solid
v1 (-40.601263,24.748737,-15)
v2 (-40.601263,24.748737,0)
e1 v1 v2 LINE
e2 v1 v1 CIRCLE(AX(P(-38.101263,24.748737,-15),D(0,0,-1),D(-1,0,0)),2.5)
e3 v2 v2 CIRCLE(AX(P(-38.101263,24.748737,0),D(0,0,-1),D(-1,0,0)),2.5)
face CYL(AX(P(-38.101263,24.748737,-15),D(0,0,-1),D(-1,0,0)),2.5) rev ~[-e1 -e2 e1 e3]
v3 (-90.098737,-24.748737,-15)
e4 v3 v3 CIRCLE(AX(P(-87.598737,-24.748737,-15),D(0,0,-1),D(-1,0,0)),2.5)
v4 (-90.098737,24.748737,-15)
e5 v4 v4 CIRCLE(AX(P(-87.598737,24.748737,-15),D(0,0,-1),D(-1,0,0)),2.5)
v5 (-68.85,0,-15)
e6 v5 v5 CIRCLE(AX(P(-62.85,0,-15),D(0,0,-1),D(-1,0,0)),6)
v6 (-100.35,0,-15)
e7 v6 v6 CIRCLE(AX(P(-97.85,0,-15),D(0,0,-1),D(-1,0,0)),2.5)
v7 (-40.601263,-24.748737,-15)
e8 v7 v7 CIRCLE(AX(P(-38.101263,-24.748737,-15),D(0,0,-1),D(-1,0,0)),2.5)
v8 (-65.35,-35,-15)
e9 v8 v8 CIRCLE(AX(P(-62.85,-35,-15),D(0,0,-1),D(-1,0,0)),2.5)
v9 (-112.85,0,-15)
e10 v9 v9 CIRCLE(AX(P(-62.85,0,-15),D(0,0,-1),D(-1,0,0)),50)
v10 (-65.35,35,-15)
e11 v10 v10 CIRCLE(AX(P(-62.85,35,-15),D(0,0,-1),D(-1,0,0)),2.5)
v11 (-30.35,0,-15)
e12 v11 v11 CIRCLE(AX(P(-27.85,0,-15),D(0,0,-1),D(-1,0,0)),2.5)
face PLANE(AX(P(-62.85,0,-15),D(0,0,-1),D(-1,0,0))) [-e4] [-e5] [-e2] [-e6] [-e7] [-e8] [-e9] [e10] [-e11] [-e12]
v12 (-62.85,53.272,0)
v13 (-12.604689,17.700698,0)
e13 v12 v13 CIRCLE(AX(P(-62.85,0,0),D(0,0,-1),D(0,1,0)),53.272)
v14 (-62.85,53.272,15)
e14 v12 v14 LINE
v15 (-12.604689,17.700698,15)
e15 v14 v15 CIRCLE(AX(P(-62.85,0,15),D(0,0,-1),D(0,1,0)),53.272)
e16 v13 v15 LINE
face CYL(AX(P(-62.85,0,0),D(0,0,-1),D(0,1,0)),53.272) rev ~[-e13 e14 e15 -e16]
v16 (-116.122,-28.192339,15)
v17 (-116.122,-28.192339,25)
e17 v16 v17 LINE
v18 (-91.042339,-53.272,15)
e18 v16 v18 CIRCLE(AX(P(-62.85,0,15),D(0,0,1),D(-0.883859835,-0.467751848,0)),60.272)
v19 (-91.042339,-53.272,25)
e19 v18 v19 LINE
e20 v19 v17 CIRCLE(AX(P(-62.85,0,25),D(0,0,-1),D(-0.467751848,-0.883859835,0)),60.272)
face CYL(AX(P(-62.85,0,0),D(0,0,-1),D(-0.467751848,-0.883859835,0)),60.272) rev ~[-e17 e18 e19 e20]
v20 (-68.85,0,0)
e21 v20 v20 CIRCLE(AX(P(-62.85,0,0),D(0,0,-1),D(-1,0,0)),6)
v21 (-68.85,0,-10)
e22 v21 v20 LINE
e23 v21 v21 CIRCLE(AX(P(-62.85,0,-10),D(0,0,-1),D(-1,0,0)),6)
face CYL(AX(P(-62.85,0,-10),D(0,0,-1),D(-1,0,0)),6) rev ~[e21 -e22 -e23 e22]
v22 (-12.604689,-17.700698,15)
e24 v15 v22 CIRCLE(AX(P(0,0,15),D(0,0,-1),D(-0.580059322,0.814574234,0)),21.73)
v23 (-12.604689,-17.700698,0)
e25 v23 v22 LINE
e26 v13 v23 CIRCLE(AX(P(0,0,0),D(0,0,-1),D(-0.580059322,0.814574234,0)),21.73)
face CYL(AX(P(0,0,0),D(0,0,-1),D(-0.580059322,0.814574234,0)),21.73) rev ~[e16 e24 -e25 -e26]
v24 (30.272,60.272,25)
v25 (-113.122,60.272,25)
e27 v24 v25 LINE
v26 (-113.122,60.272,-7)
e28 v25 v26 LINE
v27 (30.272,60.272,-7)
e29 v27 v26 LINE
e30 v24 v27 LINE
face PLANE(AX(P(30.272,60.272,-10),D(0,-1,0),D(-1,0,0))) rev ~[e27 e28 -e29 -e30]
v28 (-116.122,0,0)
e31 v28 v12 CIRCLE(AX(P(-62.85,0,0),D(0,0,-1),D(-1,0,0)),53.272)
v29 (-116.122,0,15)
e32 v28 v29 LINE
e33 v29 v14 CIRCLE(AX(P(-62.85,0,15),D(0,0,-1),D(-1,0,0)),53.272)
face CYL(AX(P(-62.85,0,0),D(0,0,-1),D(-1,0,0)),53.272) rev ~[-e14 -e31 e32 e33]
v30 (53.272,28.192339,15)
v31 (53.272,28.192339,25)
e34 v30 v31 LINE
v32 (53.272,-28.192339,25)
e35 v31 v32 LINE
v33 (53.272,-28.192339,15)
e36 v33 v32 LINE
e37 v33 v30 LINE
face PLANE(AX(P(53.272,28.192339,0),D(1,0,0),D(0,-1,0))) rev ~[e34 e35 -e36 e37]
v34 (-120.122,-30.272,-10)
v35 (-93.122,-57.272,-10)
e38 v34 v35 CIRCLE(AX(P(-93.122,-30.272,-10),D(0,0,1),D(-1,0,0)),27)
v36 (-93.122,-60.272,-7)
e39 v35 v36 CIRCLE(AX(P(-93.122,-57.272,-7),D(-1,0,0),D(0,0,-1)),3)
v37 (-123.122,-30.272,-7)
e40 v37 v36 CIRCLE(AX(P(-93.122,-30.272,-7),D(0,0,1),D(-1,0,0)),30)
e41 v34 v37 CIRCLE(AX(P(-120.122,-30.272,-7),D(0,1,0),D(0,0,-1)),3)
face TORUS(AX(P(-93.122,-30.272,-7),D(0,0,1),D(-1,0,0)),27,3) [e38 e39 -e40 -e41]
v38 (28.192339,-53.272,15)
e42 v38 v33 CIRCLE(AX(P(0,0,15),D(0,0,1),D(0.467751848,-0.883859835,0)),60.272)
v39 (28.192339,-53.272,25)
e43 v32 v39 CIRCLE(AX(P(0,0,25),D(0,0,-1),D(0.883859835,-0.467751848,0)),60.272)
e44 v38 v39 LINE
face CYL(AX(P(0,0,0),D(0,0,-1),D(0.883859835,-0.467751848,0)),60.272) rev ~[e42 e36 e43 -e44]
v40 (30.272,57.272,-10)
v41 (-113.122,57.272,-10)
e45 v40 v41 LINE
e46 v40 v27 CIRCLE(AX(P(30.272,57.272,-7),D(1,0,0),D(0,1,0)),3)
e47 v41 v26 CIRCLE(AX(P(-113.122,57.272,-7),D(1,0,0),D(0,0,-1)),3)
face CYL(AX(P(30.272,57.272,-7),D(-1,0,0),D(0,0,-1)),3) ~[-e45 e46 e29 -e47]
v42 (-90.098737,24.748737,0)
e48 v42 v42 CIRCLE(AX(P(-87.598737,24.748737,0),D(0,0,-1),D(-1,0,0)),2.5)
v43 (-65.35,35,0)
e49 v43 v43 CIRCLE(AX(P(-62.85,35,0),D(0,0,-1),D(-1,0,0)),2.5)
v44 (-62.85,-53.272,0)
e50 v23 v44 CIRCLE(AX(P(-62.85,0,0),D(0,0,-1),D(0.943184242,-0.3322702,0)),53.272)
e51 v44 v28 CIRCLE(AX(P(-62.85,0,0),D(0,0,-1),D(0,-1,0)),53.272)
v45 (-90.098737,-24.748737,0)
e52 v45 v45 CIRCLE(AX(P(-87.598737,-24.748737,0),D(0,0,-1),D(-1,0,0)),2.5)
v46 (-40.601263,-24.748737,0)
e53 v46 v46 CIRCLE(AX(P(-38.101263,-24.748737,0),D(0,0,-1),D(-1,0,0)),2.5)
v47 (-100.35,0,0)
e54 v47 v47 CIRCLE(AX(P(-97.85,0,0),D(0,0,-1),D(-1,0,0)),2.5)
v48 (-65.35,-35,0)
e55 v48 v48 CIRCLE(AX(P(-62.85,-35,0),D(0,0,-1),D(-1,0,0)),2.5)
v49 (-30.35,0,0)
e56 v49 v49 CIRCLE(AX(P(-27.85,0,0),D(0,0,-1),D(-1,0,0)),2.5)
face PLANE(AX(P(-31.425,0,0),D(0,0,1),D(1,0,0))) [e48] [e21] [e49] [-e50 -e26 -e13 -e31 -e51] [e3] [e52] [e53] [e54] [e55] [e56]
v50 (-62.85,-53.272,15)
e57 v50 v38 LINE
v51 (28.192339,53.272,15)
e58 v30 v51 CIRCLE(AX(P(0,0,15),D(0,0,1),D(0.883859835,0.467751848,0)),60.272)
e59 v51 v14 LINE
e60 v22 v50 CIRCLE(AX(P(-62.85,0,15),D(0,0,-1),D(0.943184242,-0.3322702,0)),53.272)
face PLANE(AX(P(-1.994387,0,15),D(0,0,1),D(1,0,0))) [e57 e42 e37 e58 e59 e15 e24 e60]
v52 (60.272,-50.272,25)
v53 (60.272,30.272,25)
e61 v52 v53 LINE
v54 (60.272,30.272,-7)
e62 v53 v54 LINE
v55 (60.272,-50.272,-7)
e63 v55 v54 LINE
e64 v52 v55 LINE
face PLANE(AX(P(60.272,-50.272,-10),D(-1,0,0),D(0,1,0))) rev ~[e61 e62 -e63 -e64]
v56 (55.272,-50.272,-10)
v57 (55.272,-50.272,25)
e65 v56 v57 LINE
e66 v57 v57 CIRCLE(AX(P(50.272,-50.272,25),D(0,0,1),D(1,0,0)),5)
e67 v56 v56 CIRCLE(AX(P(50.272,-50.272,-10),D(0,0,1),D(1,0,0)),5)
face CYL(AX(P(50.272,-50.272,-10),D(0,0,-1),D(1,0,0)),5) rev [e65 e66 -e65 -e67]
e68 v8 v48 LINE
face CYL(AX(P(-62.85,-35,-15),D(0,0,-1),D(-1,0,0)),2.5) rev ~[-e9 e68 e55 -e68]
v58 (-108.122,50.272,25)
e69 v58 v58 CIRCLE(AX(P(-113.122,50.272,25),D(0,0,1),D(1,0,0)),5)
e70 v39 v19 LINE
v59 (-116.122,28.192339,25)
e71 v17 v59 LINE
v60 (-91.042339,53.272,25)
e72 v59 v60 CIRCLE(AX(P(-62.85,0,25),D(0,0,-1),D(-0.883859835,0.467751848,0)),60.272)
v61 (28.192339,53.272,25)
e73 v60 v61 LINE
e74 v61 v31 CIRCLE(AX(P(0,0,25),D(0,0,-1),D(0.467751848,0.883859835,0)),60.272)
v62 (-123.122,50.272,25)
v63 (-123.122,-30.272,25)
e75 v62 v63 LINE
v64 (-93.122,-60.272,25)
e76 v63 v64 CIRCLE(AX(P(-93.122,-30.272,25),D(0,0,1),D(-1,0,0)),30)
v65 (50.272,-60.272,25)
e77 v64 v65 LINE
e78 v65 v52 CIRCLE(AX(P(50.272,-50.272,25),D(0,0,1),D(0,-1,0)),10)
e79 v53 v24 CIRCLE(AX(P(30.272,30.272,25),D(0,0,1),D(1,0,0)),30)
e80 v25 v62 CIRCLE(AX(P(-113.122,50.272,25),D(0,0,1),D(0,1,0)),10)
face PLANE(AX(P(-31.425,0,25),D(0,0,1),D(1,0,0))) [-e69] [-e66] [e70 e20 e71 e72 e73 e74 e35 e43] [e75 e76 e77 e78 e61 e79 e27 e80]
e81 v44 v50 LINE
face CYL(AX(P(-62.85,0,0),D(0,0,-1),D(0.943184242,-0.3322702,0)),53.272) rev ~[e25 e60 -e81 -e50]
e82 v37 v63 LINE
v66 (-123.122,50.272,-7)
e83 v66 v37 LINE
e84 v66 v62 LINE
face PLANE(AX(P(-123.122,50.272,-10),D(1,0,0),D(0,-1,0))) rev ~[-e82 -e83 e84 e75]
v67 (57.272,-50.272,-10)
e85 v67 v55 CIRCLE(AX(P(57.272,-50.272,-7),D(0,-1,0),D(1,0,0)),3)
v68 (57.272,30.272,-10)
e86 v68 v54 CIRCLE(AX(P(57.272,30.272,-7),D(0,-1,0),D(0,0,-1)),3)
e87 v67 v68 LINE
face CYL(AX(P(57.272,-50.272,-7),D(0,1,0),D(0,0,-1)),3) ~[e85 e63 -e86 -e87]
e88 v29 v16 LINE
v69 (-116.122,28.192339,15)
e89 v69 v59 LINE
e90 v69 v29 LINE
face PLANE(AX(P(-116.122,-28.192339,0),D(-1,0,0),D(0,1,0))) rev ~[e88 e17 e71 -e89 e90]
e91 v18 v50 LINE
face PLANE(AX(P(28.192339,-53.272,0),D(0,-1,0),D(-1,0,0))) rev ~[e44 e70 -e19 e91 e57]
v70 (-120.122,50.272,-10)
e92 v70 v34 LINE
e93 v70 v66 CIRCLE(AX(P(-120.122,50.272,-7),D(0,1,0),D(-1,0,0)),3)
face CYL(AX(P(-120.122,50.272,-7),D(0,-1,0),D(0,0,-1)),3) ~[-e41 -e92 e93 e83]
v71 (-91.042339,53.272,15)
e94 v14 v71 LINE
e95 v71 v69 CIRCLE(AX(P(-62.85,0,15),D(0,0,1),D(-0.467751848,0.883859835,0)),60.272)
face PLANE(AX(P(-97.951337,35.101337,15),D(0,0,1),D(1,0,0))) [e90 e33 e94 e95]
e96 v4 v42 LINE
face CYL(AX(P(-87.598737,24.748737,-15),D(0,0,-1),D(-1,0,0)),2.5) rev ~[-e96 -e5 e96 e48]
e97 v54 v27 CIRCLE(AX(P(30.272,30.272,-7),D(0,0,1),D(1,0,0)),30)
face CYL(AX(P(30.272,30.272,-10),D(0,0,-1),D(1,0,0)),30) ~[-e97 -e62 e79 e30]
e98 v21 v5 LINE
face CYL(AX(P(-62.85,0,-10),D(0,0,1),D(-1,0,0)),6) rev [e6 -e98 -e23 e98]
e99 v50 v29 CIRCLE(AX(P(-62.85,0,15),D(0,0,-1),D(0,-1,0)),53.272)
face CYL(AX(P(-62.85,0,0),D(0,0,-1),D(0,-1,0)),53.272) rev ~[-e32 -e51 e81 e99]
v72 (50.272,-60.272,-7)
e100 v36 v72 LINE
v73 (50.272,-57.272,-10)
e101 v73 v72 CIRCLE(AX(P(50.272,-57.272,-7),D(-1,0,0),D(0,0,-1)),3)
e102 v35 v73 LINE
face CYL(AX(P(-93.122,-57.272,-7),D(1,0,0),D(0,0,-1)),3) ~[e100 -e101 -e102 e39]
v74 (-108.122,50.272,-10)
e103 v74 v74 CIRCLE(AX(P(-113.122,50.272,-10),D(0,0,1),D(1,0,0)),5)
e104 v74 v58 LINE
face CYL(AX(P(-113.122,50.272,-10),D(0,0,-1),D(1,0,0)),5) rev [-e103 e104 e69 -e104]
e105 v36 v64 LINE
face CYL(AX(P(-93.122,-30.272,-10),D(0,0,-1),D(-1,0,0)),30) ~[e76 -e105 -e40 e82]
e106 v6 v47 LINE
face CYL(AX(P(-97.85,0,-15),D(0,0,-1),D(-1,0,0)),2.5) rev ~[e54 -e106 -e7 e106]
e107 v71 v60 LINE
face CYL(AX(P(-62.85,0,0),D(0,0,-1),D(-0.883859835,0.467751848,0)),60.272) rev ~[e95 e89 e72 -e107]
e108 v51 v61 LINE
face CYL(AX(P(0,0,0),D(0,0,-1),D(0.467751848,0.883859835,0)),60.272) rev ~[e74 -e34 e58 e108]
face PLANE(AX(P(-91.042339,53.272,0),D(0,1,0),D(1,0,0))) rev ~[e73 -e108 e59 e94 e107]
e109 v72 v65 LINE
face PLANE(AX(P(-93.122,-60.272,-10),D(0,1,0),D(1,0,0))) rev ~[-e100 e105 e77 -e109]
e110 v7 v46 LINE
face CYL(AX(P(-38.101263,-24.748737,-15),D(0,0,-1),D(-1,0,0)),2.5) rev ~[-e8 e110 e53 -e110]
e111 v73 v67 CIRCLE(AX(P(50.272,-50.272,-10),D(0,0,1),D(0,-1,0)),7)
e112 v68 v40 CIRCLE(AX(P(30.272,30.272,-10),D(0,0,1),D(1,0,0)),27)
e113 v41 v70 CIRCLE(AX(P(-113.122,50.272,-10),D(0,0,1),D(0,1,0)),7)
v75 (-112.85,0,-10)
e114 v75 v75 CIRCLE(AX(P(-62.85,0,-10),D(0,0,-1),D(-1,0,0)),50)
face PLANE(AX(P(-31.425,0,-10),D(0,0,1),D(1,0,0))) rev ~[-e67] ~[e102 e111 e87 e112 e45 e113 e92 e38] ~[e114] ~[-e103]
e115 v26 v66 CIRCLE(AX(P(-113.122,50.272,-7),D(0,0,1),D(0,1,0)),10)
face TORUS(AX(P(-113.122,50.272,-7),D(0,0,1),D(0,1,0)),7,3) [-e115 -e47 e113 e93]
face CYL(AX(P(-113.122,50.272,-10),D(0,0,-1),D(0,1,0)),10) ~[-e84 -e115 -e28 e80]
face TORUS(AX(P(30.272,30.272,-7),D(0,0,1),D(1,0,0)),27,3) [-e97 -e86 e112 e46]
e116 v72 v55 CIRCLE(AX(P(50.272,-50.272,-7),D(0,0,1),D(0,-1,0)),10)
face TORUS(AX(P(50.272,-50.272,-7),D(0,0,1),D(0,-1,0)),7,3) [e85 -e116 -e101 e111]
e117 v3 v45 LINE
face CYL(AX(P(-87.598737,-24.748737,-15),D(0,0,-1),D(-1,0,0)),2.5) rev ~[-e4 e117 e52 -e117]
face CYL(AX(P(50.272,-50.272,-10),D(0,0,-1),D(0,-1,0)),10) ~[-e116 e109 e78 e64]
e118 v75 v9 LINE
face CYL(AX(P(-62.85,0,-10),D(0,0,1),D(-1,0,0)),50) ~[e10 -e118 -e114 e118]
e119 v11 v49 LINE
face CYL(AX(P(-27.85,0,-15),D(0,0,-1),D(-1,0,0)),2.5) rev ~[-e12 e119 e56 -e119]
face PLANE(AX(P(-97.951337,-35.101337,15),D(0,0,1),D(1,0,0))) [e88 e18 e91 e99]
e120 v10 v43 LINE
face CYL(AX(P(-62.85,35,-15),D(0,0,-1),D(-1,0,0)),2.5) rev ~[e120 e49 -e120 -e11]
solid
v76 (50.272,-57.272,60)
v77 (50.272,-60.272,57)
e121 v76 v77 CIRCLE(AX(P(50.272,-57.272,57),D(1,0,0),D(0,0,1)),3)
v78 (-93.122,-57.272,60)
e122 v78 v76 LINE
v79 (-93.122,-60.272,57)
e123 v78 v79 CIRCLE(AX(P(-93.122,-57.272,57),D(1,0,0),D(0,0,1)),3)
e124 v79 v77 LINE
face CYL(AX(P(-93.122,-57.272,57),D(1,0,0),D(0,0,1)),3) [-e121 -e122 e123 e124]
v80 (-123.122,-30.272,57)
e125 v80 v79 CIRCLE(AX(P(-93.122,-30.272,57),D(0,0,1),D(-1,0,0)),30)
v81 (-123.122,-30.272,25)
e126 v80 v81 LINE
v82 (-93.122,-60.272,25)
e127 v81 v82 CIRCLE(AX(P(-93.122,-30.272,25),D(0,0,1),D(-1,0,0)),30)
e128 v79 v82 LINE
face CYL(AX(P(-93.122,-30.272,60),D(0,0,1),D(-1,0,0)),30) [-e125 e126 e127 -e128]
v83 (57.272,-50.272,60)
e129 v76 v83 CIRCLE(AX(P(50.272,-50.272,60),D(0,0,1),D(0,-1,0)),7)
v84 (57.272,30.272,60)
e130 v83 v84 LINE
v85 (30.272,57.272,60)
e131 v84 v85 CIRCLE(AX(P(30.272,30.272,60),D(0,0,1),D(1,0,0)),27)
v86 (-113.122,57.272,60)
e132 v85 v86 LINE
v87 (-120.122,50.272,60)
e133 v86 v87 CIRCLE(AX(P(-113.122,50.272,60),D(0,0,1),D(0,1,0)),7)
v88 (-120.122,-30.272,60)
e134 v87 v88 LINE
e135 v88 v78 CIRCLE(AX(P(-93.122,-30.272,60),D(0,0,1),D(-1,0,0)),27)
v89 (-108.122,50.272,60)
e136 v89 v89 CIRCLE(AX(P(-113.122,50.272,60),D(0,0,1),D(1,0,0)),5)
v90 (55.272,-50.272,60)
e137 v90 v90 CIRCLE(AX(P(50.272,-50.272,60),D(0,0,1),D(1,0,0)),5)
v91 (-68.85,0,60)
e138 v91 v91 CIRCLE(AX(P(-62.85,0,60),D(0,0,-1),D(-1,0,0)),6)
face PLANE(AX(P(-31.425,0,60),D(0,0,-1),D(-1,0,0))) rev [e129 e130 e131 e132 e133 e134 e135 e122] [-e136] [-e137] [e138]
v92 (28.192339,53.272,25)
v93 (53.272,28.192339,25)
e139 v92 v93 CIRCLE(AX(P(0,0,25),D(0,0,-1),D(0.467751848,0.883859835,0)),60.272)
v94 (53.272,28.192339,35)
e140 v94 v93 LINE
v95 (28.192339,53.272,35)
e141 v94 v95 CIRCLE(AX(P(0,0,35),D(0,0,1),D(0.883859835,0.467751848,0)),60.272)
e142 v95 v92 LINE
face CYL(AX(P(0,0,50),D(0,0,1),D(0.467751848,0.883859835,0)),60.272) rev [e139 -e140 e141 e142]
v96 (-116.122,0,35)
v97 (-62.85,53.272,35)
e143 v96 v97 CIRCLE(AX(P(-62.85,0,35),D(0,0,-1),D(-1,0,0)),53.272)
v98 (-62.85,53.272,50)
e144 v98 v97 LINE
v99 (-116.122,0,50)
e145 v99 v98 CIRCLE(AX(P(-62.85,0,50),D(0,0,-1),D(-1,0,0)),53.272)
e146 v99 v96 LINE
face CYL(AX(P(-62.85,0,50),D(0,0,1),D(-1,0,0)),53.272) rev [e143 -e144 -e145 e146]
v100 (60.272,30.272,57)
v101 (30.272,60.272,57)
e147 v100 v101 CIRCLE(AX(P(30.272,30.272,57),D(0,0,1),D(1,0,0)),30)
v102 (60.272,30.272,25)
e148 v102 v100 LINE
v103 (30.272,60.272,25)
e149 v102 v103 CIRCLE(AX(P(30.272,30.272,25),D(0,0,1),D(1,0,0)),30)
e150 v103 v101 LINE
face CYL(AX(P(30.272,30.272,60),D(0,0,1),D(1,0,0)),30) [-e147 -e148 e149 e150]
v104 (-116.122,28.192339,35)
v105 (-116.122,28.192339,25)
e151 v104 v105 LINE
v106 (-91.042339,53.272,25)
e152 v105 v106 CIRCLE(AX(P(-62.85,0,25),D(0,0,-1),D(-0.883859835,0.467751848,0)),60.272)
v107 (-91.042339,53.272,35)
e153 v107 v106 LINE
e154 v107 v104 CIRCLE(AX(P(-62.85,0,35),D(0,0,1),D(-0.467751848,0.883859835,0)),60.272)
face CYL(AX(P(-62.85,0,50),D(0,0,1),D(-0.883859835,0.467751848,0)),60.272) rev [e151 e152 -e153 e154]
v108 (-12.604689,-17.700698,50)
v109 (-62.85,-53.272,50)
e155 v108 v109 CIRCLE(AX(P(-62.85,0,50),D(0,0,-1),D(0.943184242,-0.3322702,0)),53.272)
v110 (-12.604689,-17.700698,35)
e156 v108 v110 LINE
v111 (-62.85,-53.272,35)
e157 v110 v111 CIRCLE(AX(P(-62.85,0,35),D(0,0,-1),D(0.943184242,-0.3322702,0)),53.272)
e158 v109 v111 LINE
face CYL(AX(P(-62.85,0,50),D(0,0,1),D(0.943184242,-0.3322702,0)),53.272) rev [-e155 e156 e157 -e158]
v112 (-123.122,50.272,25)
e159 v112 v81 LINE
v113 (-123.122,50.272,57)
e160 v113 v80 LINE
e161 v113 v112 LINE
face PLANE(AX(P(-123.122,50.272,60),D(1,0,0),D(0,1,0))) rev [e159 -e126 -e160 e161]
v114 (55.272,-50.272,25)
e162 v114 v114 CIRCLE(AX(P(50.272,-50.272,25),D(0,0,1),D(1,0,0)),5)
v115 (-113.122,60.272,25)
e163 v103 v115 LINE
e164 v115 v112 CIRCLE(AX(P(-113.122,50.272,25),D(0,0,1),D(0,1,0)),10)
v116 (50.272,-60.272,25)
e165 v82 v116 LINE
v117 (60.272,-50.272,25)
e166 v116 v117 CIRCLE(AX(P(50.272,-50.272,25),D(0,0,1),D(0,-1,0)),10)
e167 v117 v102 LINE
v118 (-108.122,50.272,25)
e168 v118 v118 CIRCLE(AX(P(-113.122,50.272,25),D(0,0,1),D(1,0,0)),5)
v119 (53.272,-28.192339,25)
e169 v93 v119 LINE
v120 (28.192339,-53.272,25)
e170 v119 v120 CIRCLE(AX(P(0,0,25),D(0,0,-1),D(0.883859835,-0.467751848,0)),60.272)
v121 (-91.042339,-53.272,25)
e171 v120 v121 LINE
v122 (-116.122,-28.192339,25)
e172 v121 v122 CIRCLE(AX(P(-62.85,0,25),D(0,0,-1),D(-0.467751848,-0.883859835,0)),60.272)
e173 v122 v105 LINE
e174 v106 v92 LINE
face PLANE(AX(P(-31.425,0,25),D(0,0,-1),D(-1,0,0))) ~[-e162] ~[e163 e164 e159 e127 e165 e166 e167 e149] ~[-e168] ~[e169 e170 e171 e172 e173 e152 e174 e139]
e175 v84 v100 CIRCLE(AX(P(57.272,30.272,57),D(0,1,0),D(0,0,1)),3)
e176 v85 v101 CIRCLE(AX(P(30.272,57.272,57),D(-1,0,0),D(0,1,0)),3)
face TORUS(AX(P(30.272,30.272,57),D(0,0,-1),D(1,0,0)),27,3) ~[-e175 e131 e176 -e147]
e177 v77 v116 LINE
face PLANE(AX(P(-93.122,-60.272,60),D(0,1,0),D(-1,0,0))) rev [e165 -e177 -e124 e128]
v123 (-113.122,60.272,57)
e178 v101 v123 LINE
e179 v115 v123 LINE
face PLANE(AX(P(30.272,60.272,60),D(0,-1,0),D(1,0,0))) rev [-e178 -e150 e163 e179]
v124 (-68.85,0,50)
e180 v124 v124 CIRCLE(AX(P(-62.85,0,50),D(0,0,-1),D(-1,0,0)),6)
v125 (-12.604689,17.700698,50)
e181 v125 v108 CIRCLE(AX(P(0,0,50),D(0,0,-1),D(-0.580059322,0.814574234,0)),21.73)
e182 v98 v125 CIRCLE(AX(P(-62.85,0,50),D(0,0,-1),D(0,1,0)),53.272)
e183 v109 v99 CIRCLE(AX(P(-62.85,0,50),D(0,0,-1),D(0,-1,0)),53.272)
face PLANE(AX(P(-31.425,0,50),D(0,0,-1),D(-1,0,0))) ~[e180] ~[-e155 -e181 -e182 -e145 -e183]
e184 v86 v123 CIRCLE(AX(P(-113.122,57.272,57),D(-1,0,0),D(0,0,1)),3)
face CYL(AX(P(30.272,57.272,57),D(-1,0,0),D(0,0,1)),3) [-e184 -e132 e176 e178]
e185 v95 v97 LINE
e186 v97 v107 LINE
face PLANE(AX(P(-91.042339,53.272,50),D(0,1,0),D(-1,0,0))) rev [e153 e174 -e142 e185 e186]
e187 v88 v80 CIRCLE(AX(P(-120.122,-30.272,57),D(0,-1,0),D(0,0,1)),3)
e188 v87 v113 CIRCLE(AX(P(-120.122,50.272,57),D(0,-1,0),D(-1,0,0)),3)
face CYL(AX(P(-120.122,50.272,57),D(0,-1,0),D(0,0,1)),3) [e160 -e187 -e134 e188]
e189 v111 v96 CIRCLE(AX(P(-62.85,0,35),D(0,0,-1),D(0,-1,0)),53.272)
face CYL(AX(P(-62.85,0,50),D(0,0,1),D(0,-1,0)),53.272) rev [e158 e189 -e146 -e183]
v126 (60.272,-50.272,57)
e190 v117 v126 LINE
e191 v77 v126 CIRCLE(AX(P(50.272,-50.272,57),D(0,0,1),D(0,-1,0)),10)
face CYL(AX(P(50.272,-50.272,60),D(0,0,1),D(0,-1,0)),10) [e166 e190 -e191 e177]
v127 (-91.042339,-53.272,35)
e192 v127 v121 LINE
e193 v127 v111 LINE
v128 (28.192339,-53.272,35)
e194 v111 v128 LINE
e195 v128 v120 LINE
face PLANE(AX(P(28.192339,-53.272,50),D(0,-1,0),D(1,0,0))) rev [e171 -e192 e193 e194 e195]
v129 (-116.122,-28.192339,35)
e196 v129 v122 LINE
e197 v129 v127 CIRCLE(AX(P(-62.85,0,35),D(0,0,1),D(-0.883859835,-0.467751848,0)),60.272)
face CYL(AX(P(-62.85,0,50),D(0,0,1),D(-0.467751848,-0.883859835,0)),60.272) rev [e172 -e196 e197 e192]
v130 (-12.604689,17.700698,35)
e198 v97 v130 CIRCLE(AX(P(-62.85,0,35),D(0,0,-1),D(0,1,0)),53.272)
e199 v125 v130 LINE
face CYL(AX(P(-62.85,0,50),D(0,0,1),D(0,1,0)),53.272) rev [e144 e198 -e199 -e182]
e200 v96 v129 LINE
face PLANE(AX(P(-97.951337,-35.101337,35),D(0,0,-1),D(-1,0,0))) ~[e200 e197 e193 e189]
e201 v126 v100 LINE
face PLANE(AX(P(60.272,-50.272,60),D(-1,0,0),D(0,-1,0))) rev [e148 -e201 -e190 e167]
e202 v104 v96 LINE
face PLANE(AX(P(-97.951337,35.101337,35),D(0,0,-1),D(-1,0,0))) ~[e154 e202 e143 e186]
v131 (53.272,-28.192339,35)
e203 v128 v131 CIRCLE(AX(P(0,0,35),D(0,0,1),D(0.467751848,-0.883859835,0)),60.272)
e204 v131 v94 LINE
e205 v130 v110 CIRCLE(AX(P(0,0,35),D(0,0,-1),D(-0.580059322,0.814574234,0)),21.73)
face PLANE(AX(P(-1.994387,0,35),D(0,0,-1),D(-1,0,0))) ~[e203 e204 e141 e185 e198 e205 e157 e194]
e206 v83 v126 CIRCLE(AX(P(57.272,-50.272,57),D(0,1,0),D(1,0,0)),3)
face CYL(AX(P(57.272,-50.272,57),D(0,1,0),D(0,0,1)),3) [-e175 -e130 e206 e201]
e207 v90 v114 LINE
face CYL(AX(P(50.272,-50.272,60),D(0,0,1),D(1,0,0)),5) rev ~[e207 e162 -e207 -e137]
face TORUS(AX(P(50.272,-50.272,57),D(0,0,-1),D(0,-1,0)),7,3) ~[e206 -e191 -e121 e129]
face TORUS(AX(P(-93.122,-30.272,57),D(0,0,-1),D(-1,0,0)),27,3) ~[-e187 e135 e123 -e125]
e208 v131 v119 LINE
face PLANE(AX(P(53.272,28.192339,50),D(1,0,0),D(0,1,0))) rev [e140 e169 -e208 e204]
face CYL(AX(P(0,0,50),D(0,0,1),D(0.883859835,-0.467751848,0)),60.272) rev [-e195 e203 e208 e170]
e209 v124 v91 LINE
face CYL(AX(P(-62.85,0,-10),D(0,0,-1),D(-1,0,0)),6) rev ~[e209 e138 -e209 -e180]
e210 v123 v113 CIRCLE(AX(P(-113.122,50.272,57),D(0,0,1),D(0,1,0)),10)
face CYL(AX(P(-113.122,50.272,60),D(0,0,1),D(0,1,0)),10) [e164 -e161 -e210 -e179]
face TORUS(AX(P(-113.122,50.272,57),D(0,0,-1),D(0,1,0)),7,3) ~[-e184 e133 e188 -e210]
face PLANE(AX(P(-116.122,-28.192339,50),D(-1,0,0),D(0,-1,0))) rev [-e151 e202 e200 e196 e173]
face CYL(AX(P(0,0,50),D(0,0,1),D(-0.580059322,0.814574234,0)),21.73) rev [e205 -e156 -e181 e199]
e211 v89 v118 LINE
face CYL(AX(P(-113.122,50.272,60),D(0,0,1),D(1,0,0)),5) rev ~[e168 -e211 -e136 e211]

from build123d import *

# Parameters (mm, degrees)
SKETCH1_R           = 5
BOSS_EXTRUDE1_DEPTH = 25
BOSS_EXTRUDE5_DEPTH = 15
BOSS_EXTRUDE2_START = -10
SKETCH1_3_R         = 5
BOSS_EXTRUDE2_DEPTH = 10
FILLET1_R           = 3
SKETCH2_R           = 50
SKETCH2_R_2         = 6
BOSS_EXTRUDE6_DEPTH = 5
SKETCH2_3_R         = 6
CUT_EXTRUDE1_DEPTH  = 154.921216551
SKETCH3_R           = 2.5
CUT_EXTRUDE2_DEPTH  = 20


with BuildPart() as part:
    # Sketch1 → Boss-Extrude1 (new body)
    with BuildSketch(Plane.XY):
        with BuildLine():
            ThreePointArc((-113.122, 60.272), (-120.193067812, 57.343067812), (-123.122, 50.272))
            Line((-123.122, 50.272), (-123.122, -30.272))
            ThreePointArc((-123.122, -30.272), (-114.335203436, -51.485203436), (-93.122, -60.272))
            Line((-93.122, -60.272), (50.272, -60.272))
            ThreePointArc((50.272, -60.272), (57.343067812, -57.343067812), (60.272, -50.272))
            Line((60.272, -50.272), (60.272, 30.272))
            ThreePointArc((60.272, 30.272), (51.485203436, 51.485203436), (30.272, 60.272))
            Line((30.272, 60.272), (-113.122, 60.272))
        make_face()
        with BuildLine():
            ThreePointArc((28.192339385, 53.272), (42.618739916, 42.618739916), (53.272, 28.192339385))
            Line((53.272, 28.192339385), (53.272, -28.192339385))
            ThreePointArc((53.272, -28.192339385), (42.618739916, -42.618739916), (28.192339385, -53.272))
            Line((28.192339385, -53.272), (-91.042339385, -53.272))
            ThreePointArc((-91.042339385, -53.272), (-105.468739916, -42.618739916), (-116.122, -28.192339385))
            Line((-116.122, -28.192339385), (-116.122, 28.192339385))
            ThreePointArc((-116.122, 28.192339385), (-105.468739916, 42.618739916), (-91.042339385, 53.272))
            Line((-91.042339385, 53.272), (28.192339385, 53.272))
        make_face(mode=Mode.SUBTRACT)
        with Locations((-113.122, 50.272)):
            Circle(SKETCH1_R, mode=Mode.SUBTRACT)
        with Locations((50.272, -50.272)):
            Circle(SKETCH1_R, mode=Mode.SUBTRACT)
    extrude(amount=BOSS_EXTRUDE1_DEPTH)

    # Sketch1<5> → Boss-Extrude5 (add)
    with BuildSketch(Plane.XY):
        with BuildLine():
            Line((-62.85, 53.272), (-91.042339385, 53.272))
            ThreePointArc((-91.042339385, 53.272), (-105.468739916, 42.618739916), (-116.122, 28.192339385))
            Line((-116.122, 28.192339385), (-116.122, 0))
            ThreePointArc((-116.122, 0), (-100.518992447, 37.668992447), (-62.85, 53.272))
        make_face()
        with BuildLine():
            ThreePointArc((-62.85, 53.272), (-32.068882456, 43.479061475), (-12.604689069, 17.700698107))
            ThreePointArc((-12.604689069, 17.700698107), (21.73, 0), (-12.604689069, -17.700698107))
            ThreePointArc((-12.604689069, -17.700698107), (-32.068882456, -43.479061475), (-62.85, -53.272))
            Line((-62.85, -53.272), (28.192339385, -53.272))
            ThreePointArc((28.192339385, -53.272), (42.618739916, -42.618739916), (53.272, -28.192339385))
            Line((53.272, -28.192339385), (53.272, 28.192339385))
            ThreePointArc((53.272, 28.192339385), (42.618739916, 42.618739916), (28.192339385, 53.272))
            Line((28.192339385, 53.272), (-62.85, 53.272))
        make_face()
        with BuildLine():
            ThreePointArc((-62.85, -53.272), (-100.518992447, -37.668992447), (-116.122, 0))
            Line((-116.122, 0), (-116.122, -28.192339385))
            ThreePointArc((-116.122, -28.192339385), (-105.468739916, -42.618739916), (-91.042339385, -53.272))
            Line((-91.042339385, -53.272), (-62.85, -53.272))
        make_face()
    extrude(amount=BOSS_EXTRUDE5_DEPTH)

    # Sketch1<3> → Boss-Extrude2 (add)
    with BuildSketch(Plane.XY.offset(BOSS_EXTRUDE2_START)):
        with BuildLine():
            ThreePointArc((-113.122, 60.272), (-120.193067812, 57.343067812), (-123.122, 50.272))
            Line((-123.122, 50.272), (-123.122, -30.272))
            ThreePointArc((-123.122, -30.272), (-114.335203436, -51.485203436), (-93.122, -60.272))
            Line((-93.122, -60.272), (50.272, -60.272))
            ThreePointArc((50.272, -60.272), (57.343067812, -57.343067812), (60.272, -50.272))
            Line((60.272, -50.272), (60.272, 30.272))
            ThreePointArc((60.272, 30.272), (51.485203436, 51.485203436), (30.272, 60.272))
            Line((30.272, 60.272), (-113.122, 60.272))
        make_face()
        with Locations((-113.122, 50.272)):
            Circle(SKETCH1_3_R, mode=Mode.SUBTRACT)
        with Locations((50.272, -50.272)):
            Circle(SKETCH1_3_R, mode=Mode.SUBTRACT)
    extrude(amount=BOSS_EXTRUDE2_DEPTH)

    # Fillet1
    fillet1_edges = [part.edges().sort_by_distance(p)[0] for p in [
        (-21.425, -60.272, -10),
        (57.343067812, -57.343067812, -10),
        (60.272, -10, -10),
        (51.485203436, 51.485203436, -10),
        (-41.425, 60.272, -10),
        (-120.193067812, 57.343067812, -10),
        (-123.122, 10, -10),
        (-114.335203436, -51.485203436, -10),
    ]]
    fillet(fillet1_edges, radius=FILLET1_R)


with BuildPart() as body_2:
    # Mirror1: mirrored copy
    add(part.part.mirror(Plane.XY.offset(25)))


with BuildPart() as part_1:
    add(part.part)

    # Sketch2 → Boss-Extrude6 (add)
    with BuildSketch(Plane(origin=(0, 0, -10), x_dir=(-1, 0, 0), z_dir=(0, 0, -1))):
        with Locations((62.85, 0)):
            Circle(SKETCH2_R)
        with Locations((62.85, 0)):
            Circle(SKETCH2_R_2, mode=Mode.SUBTRACT)
    extrude(amount=BOSS_EXTRUDE6_DEPTH)


with BuildPart() as cut_extrude1_tool:
    # Sketch2<3> → Cut-Extrude1 (new, through all)
    with BuildSketch(Plane(origin=(0, 0, -10), x_dir=(-1, 0, 0), z_dir=(0, 0, -1))):
        with Locations((62.85, 0)):
            Circle(SKETCH2_3_R)
    extrude(amount=-CUT_EXTRUDE1_DEPTH)


with BuildPart() as part_2:
    add(part_1.part)

    # Cut-Extrude1: cut by cut_extrude1_tool
    add(cut_extrude1_tool.part, mode=Mode.SUBTRACT)

    # Sketch3 → Cut-Extrude2 (cut)
    with BuildSketch(Plane(origin=(0, 0, -15), x_dir=(-1, 0, 0), z_dir=(0, 0, -1))):
        with Locations((62.85, 35)):
            Circle(SKETCH3_R)
        with Locations((87.598737342, 24.748737342)):
            Circle(SKETCH3_R)
        with Locations((97.85, 0)):
            Circle(SKETCH3_R)
        with Locations((87.598737342, -24.748737342)):
            Circle(SKETCH3_R)
        with Locations((62.85, -35)):
            Circle(SKETCH3_R)
        with Locations((38.101262658, -24.748737342)):
            Circle(SKETCH3_R)
        with Locations((27.85, 0)):
            Circle(SKETCH3_R)
        with Locations((38.101262658, 24.748737342)):
            Circle(SKETCH3_R)
    extrude(amount=-CUT_EXTRUDE2_DEPTH, mode=Mode.SUBTRACT)


with BuildPart() as body_2_1:
    add(body_2.part)

    # Cut-Extrude1: cut by cut_extrude1_tool
    add(cut_extrude1_tool.part, mode=Mode.SUBTRACT)


solid = Compound([part_2.part, body_2_1.part])
